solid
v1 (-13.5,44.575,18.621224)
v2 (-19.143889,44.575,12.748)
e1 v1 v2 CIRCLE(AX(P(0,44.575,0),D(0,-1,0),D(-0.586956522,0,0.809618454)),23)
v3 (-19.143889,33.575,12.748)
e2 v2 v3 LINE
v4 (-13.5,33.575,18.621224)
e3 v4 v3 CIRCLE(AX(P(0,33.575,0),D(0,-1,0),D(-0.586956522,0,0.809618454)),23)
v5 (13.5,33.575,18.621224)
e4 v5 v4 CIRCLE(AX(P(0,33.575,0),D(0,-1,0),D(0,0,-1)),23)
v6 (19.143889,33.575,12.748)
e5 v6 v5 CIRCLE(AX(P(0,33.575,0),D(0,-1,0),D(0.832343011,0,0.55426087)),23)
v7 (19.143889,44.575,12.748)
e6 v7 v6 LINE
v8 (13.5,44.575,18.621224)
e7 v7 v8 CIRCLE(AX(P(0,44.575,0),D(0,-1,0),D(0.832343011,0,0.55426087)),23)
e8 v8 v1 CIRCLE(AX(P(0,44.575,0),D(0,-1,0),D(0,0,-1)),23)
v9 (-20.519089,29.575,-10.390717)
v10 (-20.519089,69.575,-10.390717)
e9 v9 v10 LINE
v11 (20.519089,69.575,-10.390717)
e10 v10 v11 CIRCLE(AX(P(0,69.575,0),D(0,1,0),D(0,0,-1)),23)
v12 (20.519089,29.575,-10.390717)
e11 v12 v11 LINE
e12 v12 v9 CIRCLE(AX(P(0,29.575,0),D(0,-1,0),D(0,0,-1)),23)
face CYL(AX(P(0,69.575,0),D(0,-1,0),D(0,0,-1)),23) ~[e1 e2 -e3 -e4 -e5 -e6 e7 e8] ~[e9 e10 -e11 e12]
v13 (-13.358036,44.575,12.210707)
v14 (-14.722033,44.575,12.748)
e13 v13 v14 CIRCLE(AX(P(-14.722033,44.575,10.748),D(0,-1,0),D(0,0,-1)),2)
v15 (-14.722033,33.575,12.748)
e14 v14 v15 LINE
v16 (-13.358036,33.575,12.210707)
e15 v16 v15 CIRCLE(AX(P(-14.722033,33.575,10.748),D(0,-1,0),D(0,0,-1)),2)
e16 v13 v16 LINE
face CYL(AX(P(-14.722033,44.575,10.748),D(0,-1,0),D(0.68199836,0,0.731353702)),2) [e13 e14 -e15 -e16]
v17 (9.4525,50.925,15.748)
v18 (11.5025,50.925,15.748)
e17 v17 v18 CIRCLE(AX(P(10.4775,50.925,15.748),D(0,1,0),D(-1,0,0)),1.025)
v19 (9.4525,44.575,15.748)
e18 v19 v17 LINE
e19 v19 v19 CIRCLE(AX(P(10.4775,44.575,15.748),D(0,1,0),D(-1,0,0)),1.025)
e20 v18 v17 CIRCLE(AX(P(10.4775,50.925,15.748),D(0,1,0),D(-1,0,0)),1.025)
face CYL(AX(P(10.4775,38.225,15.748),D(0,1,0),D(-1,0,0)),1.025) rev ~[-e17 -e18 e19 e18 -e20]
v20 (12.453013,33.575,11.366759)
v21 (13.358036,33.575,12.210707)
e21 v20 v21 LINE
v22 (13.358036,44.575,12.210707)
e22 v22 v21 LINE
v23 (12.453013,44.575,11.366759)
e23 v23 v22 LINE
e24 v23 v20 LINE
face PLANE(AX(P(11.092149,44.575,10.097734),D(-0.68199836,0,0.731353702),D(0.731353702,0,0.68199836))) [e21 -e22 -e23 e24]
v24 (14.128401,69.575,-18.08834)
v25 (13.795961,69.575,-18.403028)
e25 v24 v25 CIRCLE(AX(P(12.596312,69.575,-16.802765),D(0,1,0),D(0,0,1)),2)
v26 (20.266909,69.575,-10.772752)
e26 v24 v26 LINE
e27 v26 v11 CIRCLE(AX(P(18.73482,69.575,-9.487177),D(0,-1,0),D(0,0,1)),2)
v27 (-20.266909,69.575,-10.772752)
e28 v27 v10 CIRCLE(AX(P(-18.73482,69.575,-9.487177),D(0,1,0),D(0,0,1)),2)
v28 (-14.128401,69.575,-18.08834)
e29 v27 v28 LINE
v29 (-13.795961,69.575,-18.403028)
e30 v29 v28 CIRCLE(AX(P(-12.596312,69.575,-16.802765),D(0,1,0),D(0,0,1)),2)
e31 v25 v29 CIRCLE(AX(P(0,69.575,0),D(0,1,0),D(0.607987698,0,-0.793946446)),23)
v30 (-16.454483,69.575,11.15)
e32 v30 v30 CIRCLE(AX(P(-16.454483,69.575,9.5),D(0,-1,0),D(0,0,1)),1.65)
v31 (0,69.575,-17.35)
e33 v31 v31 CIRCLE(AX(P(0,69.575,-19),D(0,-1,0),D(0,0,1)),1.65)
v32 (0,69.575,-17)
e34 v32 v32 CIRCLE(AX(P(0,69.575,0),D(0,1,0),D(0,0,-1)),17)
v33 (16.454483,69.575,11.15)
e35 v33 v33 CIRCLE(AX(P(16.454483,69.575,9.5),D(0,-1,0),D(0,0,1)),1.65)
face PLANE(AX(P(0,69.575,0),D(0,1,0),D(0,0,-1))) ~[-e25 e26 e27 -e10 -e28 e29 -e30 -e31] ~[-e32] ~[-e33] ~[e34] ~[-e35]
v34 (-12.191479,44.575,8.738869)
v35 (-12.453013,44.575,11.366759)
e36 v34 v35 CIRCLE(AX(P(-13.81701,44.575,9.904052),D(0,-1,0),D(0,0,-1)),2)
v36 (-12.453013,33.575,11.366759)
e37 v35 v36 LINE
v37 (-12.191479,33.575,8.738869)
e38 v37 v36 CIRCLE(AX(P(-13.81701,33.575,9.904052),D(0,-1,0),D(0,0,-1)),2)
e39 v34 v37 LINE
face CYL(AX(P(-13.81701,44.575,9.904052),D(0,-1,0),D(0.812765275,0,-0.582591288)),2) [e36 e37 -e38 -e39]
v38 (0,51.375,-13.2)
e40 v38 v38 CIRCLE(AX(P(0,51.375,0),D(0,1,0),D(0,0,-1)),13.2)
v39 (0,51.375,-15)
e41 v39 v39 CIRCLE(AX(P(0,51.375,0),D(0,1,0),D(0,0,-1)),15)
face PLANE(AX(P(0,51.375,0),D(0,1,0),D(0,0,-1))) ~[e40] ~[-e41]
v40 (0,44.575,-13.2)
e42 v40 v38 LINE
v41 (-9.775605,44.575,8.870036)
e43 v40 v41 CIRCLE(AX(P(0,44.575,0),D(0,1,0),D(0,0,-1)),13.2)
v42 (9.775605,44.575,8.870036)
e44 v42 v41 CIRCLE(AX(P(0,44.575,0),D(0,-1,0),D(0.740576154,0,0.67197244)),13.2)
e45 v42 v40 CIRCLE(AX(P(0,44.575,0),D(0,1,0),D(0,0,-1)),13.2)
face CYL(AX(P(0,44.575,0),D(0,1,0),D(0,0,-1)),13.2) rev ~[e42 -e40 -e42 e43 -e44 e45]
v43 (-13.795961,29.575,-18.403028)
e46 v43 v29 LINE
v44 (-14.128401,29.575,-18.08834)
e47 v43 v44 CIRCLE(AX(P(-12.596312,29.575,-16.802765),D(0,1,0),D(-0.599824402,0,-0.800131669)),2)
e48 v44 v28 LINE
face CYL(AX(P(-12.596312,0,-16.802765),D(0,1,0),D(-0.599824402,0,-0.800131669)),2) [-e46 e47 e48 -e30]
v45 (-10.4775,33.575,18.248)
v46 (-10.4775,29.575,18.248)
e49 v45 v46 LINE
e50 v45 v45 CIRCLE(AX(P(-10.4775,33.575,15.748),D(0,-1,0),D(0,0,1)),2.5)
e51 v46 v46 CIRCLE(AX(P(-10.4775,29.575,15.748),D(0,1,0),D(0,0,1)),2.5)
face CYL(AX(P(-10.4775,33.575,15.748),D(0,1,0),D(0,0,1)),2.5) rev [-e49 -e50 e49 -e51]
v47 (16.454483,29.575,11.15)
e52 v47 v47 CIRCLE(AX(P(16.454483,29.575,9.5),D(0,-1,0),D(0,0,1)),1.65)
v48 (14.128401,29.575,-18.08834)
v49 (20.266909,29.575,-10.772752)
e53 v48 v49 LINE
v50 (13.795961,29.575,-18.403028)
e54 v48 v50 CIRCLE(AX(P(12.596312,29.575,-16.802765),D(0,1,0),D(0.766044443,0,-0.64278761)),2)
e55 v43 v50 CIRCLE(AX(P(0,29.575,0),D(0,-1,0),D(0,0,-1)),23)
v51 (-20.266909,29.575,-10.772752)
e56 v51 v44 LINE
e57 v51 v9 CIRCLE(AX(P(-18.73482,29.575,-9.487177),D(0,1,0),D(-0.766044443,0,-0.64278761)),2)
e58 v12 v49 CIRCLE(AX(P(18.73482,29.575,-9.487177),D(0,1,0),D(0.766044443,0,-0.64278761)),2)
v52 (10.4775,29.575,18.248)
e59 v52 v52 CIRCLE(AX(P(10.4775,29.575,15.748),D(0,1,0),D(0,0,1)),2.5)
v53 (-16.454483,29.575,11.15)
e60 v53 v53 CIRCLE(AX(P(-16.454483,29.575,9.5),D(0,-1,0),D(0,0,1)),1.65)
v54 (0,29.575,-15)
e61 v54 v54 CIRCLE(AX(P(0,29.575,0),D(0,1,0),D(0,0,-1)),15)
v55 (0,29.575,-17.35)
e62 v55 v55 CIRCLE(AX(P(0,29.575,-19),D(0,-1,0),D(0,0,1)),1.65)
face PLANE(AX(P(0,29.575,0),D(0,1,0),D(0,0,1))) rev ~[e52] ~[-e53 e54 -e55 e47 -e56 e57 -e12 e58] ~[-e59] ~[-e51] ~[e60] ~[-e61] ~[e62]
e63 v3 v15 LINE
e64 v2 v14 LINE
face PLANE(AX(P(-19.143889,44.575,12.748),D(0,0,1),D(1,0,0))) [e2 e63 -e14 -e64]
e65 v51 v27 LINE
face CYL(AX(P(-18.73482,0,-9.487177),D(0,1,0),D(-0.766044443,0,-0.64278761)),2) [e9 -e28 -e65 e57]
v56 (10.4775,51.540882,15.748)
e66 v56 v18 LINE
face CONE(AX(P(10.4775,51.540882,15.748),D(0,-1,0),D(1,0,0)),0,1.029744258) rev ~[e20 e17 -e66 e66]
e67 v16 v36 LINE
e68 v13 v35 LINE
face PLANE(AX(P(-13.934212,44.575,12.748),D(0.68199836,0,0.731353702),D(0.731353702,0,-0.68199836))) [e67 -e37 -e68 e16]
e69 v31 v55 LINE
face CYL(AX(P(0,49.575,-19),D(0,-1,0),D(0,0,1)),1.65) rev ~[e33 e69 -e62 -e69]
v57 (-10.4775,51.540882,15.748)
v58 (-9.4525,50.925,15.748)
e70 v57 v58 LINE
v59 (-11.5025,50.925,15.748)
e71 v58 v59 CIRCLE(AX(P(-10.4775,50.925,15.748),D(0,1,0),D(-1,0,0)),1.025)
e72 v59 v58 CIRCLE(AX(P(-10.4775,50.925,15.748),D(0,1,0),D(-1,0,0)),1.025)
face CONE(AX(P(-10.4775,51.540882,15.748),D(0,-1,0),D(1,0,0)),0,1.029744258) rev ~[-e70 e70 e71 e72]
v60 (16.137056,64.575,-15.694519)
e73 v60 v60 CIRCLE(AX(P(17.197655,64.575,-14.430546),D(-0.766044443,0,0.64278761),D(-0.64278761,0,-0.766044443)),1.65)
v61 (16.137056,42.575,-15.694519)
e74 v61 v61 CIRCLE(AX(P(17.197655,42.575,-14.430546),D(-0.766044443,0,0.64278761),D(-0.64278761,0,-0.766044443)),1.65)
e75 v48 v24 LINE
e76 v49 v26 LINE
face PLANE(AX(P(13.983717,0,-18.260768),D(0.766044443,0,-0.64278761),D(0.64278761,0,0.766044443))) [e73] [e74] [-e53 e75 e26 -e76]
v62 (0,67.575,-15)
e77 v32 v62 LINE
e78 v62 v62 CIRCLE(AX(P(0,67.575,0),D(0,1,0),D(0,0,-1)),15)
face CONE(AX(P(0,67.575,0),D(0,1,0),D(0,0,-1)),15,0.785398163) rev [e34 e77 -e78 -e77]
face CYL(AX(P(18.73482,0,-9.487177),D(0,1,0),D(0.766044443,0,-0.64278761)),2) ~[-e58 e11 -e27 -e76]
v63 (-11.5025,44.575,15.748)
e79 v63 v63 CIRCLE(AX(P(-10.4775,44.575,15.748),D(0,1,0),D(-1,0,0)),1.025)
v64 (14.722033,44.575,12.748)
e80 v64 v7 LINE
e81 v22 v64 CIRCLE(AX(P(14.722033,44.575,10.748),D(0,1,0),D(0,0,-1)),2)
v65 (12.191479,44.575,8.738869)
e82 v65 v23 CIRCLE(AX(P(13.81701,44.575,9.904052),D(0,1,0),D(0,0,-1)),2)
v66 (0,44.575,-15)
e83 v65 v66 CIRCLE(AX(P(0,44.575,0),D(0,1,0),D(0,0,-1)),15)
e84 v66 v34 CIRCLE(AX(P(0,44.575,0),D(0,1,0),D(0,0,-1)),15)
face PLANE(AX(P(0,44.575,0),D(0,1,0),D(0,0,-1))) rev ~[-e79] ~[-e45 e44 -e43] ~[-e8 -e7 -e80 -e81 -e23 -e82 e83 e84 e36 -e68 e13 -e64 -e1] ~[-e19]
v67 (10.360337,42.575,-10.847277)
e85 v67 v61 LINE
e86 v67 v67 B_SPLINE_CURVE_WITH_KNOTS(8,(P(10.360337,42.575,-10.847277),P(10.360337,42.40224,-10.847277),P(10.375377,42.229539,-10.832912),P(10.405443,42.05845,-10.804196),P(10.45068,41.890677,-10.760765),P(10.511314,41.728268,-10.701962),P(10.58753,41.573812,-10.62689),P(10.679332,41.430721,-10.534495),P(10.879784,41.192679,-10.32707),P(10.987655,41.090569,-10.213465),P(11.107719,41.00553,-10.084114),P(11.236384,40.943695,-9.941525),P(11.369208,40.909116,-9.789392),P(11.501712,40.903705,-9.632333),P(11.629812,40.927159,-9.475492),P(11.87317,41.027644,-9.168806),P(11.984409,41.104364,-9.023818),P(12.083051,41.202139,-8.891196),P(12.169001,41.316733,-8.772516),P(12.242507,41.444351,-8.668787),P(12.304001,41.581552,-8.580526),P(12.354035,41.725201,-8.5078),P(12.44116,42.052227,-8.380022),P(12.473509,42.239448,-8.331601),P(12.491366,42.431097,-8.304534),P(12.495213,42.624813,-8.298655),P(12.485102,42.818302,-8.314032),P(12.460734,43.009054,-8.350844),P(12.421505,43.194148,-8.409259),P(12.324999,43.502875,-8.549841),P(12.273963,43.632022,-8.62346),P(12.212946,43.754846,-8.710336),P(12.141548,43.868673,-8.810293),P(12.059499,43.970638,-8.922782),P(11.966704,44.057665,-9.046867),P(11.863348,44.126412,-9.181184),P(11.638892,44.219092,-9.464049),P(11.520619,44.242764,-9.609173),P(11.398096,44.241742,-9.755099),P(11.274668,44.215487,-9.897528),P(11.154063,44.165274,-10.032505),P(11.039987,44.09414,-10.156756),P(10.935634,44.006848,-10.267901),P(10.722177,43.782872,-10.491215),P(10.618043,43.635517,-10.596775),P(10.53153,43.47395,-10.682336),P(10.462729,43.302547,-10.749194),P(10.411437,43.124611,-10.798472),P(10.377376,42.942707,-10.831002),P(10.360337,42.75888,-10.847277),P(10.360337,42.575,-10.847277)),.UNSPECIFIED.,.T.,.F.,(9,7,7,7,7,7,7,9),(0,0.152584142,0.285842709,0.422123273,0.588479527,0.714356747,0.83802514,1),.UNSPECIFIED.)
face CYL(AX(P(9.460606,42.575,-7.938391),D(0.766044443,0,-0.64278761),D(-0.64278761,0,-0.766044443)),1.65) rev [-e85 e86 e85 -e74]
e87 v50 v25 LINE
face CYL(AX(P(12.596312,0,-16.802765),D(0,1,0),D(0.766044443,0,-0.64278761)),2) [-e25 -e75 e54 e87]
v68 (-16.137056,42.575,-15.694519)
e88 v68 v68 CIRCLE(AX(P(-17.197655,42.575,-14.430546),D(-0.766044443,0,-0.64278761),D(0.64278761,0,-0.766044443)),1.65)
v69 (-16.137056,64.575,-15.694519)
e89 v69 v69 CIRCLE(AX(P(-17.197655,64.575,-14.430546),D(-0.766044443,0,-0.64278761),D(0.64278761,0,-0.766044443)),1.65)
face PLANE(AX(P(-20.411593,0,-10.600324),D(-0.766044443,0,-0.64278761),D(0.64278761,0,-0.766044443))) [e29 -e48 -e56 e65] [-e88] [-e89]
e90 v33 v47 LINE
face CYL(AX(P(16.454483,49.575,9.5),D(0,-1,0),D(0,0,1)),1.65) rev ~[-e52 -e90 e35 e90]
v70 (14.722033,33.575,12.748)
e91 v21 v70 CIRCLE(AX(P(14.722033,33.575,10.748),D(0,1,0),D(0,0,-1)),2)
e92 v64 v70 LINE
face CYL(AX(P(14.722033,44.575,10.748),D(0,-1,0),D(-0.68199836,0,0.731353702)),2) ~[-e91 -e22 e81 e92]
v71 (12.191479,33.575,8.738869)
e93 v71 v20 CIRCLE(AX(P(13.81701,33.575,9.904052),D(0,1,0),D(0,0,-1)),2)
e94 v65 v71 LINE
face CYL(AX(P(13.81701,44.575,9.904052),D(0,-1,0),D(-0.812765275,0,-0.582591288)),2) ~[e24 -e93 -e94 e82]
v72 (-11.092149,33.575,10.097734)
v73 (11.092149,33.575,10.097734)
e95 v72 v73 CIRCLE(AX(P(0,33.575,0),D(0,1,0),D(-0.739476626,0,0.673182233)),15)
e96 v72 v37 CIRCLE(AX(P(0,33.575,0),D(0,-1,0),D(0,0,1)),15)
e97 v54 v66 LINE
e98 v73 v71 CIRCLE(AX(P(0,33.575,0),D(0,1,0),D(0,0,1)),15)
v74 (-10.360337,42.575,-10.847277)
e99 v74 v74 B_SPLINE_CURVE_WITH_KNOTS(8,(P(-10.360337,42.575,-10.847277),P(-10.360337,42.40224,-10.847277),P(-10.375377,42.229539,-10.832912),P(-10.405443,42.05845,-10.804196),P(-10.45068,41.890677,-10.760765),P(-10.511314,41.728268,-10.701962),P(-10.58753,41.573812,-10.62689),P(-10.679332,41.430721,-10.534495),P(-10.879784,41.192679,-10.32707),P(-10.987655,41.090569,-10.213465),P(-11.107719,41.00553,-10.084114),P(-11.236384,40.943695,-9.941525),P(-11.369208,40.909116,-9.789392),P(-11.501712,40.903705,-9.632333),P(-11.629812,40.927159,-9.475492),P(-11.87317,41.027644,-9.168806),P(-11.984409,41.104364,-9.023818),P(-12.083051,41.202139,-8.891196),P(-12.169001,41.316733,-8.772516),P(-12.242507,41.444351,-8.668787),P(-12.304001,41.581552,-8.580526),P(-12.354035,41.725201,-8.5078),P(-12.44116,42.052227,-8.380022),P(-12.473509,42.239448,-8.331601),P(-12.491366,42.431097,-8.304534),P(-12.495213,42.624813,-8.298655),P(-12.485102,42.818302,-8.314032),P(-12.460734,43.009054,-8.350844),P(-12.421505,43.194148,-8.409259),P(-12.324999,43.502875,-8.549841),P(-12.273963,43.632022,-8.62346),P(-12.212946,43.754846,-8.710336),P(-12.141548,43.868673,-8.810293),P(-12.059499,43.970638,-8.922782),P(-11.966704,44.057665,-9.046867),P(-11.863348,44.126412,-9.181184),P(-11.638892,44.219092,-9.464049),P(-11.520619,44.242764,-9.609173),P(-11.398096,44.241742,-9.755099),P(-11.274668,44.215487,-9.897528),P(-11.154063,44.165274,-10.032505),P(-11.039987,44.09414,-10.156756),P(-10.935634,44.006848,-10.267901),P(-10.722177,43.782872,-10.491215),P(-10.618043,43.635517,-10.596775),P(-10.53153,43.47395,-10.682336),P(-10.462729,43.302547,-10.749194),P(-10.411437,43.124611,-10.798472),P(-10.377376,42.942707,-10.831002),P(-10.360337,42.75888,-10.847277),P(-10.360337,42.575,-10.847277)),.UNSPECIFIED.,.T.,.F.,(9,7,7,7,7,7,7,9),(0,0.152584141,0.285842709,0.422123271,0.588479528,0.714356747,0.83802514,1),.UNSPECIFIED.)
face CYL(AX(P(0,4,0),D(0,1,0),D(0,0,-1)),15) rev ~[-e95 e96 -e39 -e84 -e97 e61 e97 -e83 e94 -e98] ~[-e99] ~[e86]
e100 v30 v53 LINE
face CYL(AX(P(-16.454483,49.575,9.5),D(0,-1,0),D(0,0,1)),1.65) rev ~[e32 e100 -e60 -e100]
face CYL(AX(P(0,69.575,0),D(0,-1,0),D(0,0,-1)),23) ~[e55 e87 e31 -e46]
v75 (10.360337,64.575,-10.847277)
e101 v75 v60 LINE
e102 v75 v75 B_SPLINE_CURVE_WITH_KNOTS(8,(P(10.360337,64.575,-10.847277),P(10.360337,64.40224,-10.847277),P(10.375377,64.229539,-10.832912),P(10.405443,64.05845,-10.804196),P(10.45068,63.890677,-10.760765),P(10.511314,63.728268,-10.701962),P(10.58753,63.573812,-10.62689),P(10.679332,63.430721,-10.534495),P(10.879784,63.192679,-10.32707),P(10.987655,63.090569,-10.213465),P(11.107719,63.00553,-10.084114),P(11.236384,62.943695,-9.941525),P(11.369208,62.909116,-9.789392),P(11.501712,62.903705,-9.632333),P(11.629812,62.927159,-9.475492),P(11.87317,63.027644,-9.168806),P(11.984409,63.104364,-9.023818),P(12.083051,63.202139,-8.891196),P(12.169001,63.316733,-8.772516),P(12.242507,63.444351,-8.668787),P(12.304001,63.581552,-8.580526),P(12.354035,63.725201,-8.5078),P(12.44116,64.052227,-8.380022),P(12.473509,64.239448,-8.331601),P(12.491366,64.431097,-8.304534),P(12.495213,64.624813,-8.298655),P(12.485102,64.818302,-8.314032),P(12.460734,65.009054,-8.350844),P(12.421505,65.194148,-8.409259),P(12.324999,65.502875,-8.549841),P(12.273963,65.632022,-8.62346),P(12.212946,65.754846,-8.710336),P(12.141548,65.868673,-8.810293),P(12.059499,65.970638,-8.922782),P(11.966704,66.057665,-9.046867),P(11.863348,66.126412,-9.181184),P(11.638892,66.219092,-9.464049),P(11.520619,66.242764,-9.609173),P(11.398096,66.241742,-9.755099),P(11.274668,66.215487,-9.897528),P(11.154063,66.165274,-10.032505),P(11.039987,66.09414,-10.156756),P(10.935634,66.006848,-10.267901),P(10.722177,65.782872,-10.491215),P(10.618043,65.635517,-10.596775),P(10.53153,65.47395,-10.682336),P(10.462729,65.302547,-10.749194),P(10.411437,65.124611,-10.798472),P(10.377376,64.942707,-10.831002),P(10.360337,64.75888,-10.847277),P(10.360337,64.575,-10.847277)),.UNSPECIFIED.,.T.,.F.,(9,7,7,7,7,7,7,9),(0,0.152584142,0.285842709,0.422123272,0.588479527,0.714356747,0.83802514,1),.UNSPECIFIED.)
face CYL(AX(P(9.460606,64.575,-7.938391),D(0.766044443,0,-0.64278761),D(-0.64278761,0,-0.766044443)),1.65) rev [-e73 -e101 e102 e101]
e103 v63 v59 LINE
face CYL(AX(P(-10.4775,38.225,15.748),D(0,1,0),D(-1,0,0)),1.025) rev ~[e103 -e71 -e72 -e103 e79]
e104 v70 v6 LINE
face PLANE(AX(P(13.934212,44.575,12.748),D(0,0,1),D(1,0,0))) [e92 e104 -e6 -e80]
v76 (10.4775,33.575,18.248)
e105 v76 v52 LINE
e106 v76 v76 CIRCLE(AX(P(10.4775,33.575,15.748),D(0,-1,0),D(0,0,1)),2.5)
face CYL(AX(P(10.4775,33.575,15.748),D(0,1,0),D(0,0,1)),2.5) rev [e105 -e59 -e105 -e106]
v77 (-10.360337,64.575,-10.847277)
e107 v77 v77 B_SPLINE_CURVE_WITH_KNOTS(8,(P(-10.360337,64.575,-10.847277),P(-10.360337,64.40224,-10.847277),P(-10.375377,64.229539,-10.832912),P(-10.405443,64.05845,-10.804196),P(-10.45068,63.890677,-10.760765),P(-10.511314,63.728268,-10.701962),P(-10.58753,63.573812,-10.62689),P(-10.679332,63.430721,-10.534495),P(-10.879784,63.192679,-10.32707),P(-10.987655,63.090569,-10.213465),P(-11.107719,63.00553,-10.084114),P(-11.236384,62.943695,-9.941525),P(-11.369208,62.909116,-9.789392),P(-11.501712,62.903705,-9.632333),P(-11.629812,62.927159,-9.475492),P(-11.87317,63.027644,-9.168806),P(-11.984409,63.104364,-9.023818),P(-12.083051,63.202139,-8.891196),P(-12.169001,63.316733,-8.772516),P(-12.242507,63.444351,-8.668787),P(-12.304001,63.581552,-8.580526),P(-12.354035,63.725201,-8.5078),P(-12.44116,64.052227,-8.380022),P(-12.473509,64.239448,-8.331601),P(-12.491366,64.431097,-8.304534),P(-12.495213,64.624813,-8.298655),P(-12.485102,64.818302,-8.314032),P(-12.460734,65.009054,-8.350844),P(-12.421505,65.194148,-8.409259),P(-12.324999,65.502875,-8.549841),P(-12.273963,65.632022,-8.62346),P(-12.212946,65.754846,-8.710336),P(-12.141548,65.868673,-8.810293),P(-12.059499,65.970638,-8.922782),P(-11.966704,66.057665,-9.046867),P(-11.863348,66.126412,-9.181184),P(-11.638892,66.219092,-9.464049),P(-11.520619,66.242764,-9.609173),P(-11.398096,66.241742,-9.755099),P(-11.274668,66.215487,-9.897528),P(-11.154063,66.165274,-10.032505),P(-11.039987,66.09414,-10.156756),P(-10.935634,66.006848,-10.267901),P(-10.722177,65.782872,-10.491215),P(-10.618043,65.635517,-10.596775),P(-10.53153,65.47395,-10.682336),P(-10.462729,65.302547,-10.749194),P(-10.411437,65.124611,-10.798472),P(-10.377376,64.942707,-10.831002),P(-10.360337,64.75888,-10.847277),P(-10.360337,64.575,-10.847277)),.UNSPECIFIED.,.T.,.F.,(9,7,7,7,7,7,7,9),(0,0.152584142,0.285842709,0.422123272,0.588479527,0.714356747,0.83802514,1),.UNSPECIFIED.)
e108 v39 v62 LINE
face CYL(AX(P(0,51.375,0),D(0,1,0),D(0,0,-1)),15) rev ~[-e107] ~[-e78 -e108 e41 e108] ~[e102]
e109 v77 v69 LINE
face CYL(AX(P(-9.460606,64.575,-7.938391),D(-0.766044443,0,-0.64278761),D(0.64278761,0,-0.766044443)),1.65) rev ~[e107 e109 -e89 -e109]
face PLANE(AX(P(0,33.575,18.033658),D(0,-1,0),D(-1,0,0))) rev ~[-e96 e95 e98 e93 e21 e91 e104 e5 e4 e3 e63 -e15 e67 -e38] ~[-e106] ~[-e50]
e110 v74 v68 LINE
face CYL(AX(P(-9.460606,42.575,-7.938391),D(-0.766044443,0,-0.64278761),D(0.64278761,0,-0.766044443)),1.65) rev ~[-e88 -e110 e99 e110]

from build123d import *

# Parameters (mm, degrees)
CUT_EXTRUDE1_DEPTH         = 11
FILLET1_R                  = 2
M2_5_TAPPED_HOLE1_D        = 2.05
M2_5_TAPPED_HOLE1_DEPTH    = 6.35
M2_5_TAPPED_HOLE1_TIP      = 0.615882135
SKETCH11_OUTSIDE_W         = 67.05
SKETCH11_OUTSIDE_H         = 67.05
CUT_EXTRUDE2_DEPTH         = 77.802868599
FILLET3_R                  = 2
CHAMFER1_SIZE              = 2
M4_TAPPED_HOLE1_AT_2_COUNT = 2
M4_TAPPED_HOLE1_AT_2_PITCH = 22
SKETCH15_R                 = 1.5
CUT_EXTRUDE4_DEPTH         = 10
SKETCH8_W                  = 1.65
SKETCH8_H                  = 40
M4_TAPPED_HOLE2_AT_2_COUNT = 2
M4_TAPPED_HOLE2_AT_2_PITCH = 32.908965344
M4_TAPPED_HOLE2_AT_3_COUNT = 2
M4_TAPPED_HOLE2_AT_3_PITCH = 32.908965344
CUT_EXTRUDE6_START         = 11
SKETCH17_R                 = 2.5
CUT_EXTRUDE6_DEPTH         = 4.001
SKETCH14_R                 = 2.15
CUT_EXTRUDE3_DEPTH         = 29.575


with BuildPart() as part:
    # Sketch1 → Revolve1 (revolve)
    with BuildSketch(Plane(origin=(0, 0, 0), x_dir=(0, 0, -1), z_dir=(1, 0, 0))):
        Polygon((13.2, 44.575), (13.2, 51.375), (15, 51.375), (15, 69.575), (23, 69.575), (23, 0), (13.2, 0), (9.5, 0), (9.5, 4), (15, 4), (15, 44.575), align=None)
    revolve(axis=Axis((0, 0, 0), (0, 1, 0)))

    # Sketch5 → Cut-Extrude1 (cut)
    with BuildSketch(Plane(origin=(0, 44.575, 0), x_dir=(-1, 0, 0), z_dir=(0, -1, 0))):
        with BuildLine():
            Line((-13.5, -18.62122445), (-13.5, -25.735977403))
            Line((-13.5, -25.735977403), (13.5, -25.735977403))
            Line((13.5, -25.735977403), (13.5, -18.62122445))
            ThreePointArc((13.5, -18.62122445), (16.584015432, -15.936449797), (19.14388926, -12.748))
            Line((19.14388926, -12.748), (13.93421226, -12.748))
            Line((13.93421226, -12.748), (11.092149393, -10.0977335))
            ThreePointArc((11.092149393, -10.0977335), (0, -15), (-11.092149393, -10.0977335))
            Line((-11.092149393, -10.0977335), (-13.93421226, -12.748))
            Line((-13.93421226, -12.748), (-19.14388926, -12.748))
            ThreePointArc((-19.14388926, -12.748), (-16.584015432, -15.936449797), (-13.5, -18.62122445))
        make_face()
        with BuildLine():
            Line((-7.5, -6.748), (-9.775605232, -8.870036209))
            ThreePointArc((-9.775605232, -8.870036209), (0, -13.2), (9.775605232, -8.870036209))
            Line((9.775605232, -8.870036209), (7.5, -6.748))
            Line((7.5, -6.748), (-7.5, -6.748))
        make_face()
    extrude(amount=CUT_EXTRUDE1_DEPTH, mode=Mode.SUBTRACT)

    # Fillet1
    fillet1_edges = [part.edges().sort_by_distance(p)[0] for p in [
        (11.092149393, 39.075, 10.0977335),
        (-11.092149393, 39.075, 10.0977335),
        (-13.93421226, 39.075, 12.748),
        (13.93421226, 39.075, 12.748),
    ]]
    fillet(fillet1_edges, radius=FILLET1_R)

    # M2.5 Tapped Hole1
    with Locations(Plane.XZ.offset(-44.575)):
        with Locations((-10.4775, 15.748), (10.4775, 15.748)):
            Hole(M2_5_TAPPED_HOLE1_D / 2, depth=M2_5_TAPPED_HOLE1_DEPTH)
            with Locations((0, 0, -(M2_5_TAPPED_HOLE1_DEPTH + M2_5_TAPPED_HOLE1_TIP / 2))):  # 118° drill point
                Cone(0, M2_5_TAPPED_HOLE1_D / 2, M2_5_TAPPED_HOLE1_TIP, mode=Mode.SUBTRACT)

    # Sketch11 outside → Cut-Extrude2 (cut, through all)
    with BuildSketch(Plane(origin=(0, 0, 0), x_dir=(1, 0, 0), z_dir=(0, 1, 0))):
        Rectangle(SKETCH11_OUTSIDE_W, SKETCH11_OUTSIDE_H)
        with BuildLine():
            Line((13.983717047, 18.260768263), (20.411593144, 10.600323832))
            ThreePointArc((20.411593144, 10.600323832), (0, -23), (-20.411593144, 10.600323832))
            Line((-20.411593144, 10.600323832), (-13.983717047, 18.260768263))
            ThreePointArc((-13.983717047, 18.260768263), (0, 23), (13.983717047, 18.260768263))
        make_face(mode=Mode.SUBTRACT)
    extrude(amount=CUT_EXTRUDE2_DEPTH, mode=Mode.SUBTRACT)

    # Fillet3
    fillet3_edges = [part.edges().sort_by_distance(p)[0] for p in [
        (13.983717047, 34.7875, -18.260768263),
        (-13.983717047, 34.7875, -18.260768263),
        (-20.411593144, 34.7875, -10.600323832),
        (20.411593144, 34.7875, -10.600323832),
    ]]
    fillet(fillet3_edges, radius=FILLET3_R)

    # Chamfer1
    chamfer1_edges = [part.edges().sort_by_distance(p)[0] for p in [
        (0, 69.575, 15),
    ]]
    chamfer(chamfer1_edges, length=CHAMFER1_SIZE)

    # Sketch12 → M4 Tapped Hole1 (revolve, cut)
    with BuildSketch(Plane(origin=(17.197655095, 42.575, -14.430546047), x_dir=(-0.6427876096865435, 0, -0.7660444431189747), z_dir=(0, 1, 0))):
        Polygon((0, 0), (0, 11.091420021), (1.65, 10.1), (1.65, 0), align=None)
    m4_tapped_hole1 = revolve(axis=Axis((22.062037309, 42.575, -18.512247369), (-0.7660444431189746, 0, 0.6427876096865436)), mode=Mode.SUBTRACT)

    # M4 Tapped Hole1 at 2: M4 Tapped Hole1 ×2
    with Locations(*[(0, i * M4_TAPPED_HOLE1_AT_2_PITCH, 0) for i in range(1, M4_TAPPED_HOLE1_AT_2_COUNT)]):
        add(m4_tapped_hole1, mode=Mode.SUBTRACT)

    # Mirror1: M4 Tapped Hole1 across plane
    add(m4_tapped_hole1.mirror(Plane(origin=(0, 0, 0), x_dir=(0, 0, 1), z_dir=(1, 0, 0))), mode=Mode.SUBTRACT)

    # Mirror1 copy 1 sketch → Mirror1 copy 1 (revolve, cut)
    with BuildSketch(Plane(origin=(-17.197655095, 64.575, -14.430546047), x_dir=(0.6427876096865435, 0, -0.7660444431189747), z_dir=(0, 1, 0))):
        Polygon((0, 0), (0, -11.091420021), (1.65, -10.1), (1.65, 0), align=None)
    revolve(axis=Axis((-22.062037309, 64.575, -18.512247369), (-0.7660444431189746, 0, -0.6427876096865436)), mode=Mode.SUBTRACT)

    # Sketch15 → Cut-Extrude4 (cut)
    with BuildSketch(Plane.XZ):
        with Locations(Location((-9.192388155, -9.192388155, 0), (0, 0, 270))):
            Circle(SKETCH15_R)
        with Locations(Location((-9.192388155, 9.192388155, 0), (0, 0, 270))):
            Circle(SKETCH15_R)
        with Locations(Location((9.192388155, 9.192388155, 0), (0, 0, 270))):
            Circle(SKETCH15_R)
        with Locations(Location((9.192388155, -9.192388155, 0), (0, 0, 270))):
            Circle(SKETCH15_R)
    extrude(amount=-CUT_EXTRUDE4_DEPTH, mode=Mode.SUBTRACT)


with BuildPart() as body_2:
    # Split1: the piece on the far side of the plane
    add(part.part)
    split(bisect_by=Plane.ZX.offset(29.575), keep=Keep.BOTTOM)

    # Sketch14 → Cut-Extrude3 (cut)
    with BuildSketch(Plane.XZ):
        with Locations(Location((-16.454482672, 9.5, 0), (0, 0, 270))):
            Circle(SKETCH14_R)
        with Locations(Location((16.454482672, 9.5, 0), (0, 0, 270))):
            Circle(SKETCH14_R)
        with Locations(Location((0, -19, 0), (0, 0, 270))):
            Circle(SKETCH14_R)
    extrude(amount=-CUT_EXTRUDE3_DEPTH, mode=Mode.SUBTRACT)


with BuildPart() as part_1:
    add(part.part)

    # Split1
    split(bisect_by=Plane.ZX.offset(29.575), keep=Keep.TOP)

    # Sketch8 → M4 Tapped Hole2 (revolve, cut)
    with BuildSketch(Plane(origin=(-16.454482672, 69.575, 9.5), x_dir=(0, 0, 1), z_dir=(1, 0, 0))):
        with Locations((0.825, 20)):
            Rectangle(SKETCH8_W, SKETCH8_H)
    m4_tapped_hole2 = revolve(axis=Axis((-16.454482672, 75.925, 9.5), (0, -1, 0)), mode=Mode.SUBTRACT)

    # M4 Tapped Hole2 at 2: M4 Tapped Hole2 ×2
    with Locations(*[Vector(0.499999999999998, 0, -0.8660254037844398) * (i * M4_TAPPED_HOLE2_AT_2_PITCH) for i in range(1, M4_TAPPED_HOLE2_AT_2_COUNT)]):
        add(m4_tapped_hole2, mode=Mode.SUBTRACT)

    # M4 Tapped Hole2 at 3: M4 Tapped Hole2 ×2
    with Locations(*[(i * M4_TAPPED_HOLE2_AT_3_PITCH, 0, 0) for i in range(1, M4_TAPPED_HOLE2_AT_3_COUNT)]):
        add(m4_tapped_hole2, mode=Mode.SUBTRACT)

    # Sketch17 → Cut-Extrude6 (cut)
    with BuildSketch(Plane.XZ.offset(-44.575).offset(CUT_EXTRUDE6_START)):
        with Locations(Location((10.4775, 15.748, 0), (0, 0, 90))):
            Circle(SKETCH17_R)
        with Locations(Location((-10.4775, 15.748, 0), (0, 0, 90))):
            Circle(SKETCH17_R)
    extrude(amount=CUT_EXTRUDE6_DEPTH, mode=Mode.SUBTRACT)


solid = part_1.part
